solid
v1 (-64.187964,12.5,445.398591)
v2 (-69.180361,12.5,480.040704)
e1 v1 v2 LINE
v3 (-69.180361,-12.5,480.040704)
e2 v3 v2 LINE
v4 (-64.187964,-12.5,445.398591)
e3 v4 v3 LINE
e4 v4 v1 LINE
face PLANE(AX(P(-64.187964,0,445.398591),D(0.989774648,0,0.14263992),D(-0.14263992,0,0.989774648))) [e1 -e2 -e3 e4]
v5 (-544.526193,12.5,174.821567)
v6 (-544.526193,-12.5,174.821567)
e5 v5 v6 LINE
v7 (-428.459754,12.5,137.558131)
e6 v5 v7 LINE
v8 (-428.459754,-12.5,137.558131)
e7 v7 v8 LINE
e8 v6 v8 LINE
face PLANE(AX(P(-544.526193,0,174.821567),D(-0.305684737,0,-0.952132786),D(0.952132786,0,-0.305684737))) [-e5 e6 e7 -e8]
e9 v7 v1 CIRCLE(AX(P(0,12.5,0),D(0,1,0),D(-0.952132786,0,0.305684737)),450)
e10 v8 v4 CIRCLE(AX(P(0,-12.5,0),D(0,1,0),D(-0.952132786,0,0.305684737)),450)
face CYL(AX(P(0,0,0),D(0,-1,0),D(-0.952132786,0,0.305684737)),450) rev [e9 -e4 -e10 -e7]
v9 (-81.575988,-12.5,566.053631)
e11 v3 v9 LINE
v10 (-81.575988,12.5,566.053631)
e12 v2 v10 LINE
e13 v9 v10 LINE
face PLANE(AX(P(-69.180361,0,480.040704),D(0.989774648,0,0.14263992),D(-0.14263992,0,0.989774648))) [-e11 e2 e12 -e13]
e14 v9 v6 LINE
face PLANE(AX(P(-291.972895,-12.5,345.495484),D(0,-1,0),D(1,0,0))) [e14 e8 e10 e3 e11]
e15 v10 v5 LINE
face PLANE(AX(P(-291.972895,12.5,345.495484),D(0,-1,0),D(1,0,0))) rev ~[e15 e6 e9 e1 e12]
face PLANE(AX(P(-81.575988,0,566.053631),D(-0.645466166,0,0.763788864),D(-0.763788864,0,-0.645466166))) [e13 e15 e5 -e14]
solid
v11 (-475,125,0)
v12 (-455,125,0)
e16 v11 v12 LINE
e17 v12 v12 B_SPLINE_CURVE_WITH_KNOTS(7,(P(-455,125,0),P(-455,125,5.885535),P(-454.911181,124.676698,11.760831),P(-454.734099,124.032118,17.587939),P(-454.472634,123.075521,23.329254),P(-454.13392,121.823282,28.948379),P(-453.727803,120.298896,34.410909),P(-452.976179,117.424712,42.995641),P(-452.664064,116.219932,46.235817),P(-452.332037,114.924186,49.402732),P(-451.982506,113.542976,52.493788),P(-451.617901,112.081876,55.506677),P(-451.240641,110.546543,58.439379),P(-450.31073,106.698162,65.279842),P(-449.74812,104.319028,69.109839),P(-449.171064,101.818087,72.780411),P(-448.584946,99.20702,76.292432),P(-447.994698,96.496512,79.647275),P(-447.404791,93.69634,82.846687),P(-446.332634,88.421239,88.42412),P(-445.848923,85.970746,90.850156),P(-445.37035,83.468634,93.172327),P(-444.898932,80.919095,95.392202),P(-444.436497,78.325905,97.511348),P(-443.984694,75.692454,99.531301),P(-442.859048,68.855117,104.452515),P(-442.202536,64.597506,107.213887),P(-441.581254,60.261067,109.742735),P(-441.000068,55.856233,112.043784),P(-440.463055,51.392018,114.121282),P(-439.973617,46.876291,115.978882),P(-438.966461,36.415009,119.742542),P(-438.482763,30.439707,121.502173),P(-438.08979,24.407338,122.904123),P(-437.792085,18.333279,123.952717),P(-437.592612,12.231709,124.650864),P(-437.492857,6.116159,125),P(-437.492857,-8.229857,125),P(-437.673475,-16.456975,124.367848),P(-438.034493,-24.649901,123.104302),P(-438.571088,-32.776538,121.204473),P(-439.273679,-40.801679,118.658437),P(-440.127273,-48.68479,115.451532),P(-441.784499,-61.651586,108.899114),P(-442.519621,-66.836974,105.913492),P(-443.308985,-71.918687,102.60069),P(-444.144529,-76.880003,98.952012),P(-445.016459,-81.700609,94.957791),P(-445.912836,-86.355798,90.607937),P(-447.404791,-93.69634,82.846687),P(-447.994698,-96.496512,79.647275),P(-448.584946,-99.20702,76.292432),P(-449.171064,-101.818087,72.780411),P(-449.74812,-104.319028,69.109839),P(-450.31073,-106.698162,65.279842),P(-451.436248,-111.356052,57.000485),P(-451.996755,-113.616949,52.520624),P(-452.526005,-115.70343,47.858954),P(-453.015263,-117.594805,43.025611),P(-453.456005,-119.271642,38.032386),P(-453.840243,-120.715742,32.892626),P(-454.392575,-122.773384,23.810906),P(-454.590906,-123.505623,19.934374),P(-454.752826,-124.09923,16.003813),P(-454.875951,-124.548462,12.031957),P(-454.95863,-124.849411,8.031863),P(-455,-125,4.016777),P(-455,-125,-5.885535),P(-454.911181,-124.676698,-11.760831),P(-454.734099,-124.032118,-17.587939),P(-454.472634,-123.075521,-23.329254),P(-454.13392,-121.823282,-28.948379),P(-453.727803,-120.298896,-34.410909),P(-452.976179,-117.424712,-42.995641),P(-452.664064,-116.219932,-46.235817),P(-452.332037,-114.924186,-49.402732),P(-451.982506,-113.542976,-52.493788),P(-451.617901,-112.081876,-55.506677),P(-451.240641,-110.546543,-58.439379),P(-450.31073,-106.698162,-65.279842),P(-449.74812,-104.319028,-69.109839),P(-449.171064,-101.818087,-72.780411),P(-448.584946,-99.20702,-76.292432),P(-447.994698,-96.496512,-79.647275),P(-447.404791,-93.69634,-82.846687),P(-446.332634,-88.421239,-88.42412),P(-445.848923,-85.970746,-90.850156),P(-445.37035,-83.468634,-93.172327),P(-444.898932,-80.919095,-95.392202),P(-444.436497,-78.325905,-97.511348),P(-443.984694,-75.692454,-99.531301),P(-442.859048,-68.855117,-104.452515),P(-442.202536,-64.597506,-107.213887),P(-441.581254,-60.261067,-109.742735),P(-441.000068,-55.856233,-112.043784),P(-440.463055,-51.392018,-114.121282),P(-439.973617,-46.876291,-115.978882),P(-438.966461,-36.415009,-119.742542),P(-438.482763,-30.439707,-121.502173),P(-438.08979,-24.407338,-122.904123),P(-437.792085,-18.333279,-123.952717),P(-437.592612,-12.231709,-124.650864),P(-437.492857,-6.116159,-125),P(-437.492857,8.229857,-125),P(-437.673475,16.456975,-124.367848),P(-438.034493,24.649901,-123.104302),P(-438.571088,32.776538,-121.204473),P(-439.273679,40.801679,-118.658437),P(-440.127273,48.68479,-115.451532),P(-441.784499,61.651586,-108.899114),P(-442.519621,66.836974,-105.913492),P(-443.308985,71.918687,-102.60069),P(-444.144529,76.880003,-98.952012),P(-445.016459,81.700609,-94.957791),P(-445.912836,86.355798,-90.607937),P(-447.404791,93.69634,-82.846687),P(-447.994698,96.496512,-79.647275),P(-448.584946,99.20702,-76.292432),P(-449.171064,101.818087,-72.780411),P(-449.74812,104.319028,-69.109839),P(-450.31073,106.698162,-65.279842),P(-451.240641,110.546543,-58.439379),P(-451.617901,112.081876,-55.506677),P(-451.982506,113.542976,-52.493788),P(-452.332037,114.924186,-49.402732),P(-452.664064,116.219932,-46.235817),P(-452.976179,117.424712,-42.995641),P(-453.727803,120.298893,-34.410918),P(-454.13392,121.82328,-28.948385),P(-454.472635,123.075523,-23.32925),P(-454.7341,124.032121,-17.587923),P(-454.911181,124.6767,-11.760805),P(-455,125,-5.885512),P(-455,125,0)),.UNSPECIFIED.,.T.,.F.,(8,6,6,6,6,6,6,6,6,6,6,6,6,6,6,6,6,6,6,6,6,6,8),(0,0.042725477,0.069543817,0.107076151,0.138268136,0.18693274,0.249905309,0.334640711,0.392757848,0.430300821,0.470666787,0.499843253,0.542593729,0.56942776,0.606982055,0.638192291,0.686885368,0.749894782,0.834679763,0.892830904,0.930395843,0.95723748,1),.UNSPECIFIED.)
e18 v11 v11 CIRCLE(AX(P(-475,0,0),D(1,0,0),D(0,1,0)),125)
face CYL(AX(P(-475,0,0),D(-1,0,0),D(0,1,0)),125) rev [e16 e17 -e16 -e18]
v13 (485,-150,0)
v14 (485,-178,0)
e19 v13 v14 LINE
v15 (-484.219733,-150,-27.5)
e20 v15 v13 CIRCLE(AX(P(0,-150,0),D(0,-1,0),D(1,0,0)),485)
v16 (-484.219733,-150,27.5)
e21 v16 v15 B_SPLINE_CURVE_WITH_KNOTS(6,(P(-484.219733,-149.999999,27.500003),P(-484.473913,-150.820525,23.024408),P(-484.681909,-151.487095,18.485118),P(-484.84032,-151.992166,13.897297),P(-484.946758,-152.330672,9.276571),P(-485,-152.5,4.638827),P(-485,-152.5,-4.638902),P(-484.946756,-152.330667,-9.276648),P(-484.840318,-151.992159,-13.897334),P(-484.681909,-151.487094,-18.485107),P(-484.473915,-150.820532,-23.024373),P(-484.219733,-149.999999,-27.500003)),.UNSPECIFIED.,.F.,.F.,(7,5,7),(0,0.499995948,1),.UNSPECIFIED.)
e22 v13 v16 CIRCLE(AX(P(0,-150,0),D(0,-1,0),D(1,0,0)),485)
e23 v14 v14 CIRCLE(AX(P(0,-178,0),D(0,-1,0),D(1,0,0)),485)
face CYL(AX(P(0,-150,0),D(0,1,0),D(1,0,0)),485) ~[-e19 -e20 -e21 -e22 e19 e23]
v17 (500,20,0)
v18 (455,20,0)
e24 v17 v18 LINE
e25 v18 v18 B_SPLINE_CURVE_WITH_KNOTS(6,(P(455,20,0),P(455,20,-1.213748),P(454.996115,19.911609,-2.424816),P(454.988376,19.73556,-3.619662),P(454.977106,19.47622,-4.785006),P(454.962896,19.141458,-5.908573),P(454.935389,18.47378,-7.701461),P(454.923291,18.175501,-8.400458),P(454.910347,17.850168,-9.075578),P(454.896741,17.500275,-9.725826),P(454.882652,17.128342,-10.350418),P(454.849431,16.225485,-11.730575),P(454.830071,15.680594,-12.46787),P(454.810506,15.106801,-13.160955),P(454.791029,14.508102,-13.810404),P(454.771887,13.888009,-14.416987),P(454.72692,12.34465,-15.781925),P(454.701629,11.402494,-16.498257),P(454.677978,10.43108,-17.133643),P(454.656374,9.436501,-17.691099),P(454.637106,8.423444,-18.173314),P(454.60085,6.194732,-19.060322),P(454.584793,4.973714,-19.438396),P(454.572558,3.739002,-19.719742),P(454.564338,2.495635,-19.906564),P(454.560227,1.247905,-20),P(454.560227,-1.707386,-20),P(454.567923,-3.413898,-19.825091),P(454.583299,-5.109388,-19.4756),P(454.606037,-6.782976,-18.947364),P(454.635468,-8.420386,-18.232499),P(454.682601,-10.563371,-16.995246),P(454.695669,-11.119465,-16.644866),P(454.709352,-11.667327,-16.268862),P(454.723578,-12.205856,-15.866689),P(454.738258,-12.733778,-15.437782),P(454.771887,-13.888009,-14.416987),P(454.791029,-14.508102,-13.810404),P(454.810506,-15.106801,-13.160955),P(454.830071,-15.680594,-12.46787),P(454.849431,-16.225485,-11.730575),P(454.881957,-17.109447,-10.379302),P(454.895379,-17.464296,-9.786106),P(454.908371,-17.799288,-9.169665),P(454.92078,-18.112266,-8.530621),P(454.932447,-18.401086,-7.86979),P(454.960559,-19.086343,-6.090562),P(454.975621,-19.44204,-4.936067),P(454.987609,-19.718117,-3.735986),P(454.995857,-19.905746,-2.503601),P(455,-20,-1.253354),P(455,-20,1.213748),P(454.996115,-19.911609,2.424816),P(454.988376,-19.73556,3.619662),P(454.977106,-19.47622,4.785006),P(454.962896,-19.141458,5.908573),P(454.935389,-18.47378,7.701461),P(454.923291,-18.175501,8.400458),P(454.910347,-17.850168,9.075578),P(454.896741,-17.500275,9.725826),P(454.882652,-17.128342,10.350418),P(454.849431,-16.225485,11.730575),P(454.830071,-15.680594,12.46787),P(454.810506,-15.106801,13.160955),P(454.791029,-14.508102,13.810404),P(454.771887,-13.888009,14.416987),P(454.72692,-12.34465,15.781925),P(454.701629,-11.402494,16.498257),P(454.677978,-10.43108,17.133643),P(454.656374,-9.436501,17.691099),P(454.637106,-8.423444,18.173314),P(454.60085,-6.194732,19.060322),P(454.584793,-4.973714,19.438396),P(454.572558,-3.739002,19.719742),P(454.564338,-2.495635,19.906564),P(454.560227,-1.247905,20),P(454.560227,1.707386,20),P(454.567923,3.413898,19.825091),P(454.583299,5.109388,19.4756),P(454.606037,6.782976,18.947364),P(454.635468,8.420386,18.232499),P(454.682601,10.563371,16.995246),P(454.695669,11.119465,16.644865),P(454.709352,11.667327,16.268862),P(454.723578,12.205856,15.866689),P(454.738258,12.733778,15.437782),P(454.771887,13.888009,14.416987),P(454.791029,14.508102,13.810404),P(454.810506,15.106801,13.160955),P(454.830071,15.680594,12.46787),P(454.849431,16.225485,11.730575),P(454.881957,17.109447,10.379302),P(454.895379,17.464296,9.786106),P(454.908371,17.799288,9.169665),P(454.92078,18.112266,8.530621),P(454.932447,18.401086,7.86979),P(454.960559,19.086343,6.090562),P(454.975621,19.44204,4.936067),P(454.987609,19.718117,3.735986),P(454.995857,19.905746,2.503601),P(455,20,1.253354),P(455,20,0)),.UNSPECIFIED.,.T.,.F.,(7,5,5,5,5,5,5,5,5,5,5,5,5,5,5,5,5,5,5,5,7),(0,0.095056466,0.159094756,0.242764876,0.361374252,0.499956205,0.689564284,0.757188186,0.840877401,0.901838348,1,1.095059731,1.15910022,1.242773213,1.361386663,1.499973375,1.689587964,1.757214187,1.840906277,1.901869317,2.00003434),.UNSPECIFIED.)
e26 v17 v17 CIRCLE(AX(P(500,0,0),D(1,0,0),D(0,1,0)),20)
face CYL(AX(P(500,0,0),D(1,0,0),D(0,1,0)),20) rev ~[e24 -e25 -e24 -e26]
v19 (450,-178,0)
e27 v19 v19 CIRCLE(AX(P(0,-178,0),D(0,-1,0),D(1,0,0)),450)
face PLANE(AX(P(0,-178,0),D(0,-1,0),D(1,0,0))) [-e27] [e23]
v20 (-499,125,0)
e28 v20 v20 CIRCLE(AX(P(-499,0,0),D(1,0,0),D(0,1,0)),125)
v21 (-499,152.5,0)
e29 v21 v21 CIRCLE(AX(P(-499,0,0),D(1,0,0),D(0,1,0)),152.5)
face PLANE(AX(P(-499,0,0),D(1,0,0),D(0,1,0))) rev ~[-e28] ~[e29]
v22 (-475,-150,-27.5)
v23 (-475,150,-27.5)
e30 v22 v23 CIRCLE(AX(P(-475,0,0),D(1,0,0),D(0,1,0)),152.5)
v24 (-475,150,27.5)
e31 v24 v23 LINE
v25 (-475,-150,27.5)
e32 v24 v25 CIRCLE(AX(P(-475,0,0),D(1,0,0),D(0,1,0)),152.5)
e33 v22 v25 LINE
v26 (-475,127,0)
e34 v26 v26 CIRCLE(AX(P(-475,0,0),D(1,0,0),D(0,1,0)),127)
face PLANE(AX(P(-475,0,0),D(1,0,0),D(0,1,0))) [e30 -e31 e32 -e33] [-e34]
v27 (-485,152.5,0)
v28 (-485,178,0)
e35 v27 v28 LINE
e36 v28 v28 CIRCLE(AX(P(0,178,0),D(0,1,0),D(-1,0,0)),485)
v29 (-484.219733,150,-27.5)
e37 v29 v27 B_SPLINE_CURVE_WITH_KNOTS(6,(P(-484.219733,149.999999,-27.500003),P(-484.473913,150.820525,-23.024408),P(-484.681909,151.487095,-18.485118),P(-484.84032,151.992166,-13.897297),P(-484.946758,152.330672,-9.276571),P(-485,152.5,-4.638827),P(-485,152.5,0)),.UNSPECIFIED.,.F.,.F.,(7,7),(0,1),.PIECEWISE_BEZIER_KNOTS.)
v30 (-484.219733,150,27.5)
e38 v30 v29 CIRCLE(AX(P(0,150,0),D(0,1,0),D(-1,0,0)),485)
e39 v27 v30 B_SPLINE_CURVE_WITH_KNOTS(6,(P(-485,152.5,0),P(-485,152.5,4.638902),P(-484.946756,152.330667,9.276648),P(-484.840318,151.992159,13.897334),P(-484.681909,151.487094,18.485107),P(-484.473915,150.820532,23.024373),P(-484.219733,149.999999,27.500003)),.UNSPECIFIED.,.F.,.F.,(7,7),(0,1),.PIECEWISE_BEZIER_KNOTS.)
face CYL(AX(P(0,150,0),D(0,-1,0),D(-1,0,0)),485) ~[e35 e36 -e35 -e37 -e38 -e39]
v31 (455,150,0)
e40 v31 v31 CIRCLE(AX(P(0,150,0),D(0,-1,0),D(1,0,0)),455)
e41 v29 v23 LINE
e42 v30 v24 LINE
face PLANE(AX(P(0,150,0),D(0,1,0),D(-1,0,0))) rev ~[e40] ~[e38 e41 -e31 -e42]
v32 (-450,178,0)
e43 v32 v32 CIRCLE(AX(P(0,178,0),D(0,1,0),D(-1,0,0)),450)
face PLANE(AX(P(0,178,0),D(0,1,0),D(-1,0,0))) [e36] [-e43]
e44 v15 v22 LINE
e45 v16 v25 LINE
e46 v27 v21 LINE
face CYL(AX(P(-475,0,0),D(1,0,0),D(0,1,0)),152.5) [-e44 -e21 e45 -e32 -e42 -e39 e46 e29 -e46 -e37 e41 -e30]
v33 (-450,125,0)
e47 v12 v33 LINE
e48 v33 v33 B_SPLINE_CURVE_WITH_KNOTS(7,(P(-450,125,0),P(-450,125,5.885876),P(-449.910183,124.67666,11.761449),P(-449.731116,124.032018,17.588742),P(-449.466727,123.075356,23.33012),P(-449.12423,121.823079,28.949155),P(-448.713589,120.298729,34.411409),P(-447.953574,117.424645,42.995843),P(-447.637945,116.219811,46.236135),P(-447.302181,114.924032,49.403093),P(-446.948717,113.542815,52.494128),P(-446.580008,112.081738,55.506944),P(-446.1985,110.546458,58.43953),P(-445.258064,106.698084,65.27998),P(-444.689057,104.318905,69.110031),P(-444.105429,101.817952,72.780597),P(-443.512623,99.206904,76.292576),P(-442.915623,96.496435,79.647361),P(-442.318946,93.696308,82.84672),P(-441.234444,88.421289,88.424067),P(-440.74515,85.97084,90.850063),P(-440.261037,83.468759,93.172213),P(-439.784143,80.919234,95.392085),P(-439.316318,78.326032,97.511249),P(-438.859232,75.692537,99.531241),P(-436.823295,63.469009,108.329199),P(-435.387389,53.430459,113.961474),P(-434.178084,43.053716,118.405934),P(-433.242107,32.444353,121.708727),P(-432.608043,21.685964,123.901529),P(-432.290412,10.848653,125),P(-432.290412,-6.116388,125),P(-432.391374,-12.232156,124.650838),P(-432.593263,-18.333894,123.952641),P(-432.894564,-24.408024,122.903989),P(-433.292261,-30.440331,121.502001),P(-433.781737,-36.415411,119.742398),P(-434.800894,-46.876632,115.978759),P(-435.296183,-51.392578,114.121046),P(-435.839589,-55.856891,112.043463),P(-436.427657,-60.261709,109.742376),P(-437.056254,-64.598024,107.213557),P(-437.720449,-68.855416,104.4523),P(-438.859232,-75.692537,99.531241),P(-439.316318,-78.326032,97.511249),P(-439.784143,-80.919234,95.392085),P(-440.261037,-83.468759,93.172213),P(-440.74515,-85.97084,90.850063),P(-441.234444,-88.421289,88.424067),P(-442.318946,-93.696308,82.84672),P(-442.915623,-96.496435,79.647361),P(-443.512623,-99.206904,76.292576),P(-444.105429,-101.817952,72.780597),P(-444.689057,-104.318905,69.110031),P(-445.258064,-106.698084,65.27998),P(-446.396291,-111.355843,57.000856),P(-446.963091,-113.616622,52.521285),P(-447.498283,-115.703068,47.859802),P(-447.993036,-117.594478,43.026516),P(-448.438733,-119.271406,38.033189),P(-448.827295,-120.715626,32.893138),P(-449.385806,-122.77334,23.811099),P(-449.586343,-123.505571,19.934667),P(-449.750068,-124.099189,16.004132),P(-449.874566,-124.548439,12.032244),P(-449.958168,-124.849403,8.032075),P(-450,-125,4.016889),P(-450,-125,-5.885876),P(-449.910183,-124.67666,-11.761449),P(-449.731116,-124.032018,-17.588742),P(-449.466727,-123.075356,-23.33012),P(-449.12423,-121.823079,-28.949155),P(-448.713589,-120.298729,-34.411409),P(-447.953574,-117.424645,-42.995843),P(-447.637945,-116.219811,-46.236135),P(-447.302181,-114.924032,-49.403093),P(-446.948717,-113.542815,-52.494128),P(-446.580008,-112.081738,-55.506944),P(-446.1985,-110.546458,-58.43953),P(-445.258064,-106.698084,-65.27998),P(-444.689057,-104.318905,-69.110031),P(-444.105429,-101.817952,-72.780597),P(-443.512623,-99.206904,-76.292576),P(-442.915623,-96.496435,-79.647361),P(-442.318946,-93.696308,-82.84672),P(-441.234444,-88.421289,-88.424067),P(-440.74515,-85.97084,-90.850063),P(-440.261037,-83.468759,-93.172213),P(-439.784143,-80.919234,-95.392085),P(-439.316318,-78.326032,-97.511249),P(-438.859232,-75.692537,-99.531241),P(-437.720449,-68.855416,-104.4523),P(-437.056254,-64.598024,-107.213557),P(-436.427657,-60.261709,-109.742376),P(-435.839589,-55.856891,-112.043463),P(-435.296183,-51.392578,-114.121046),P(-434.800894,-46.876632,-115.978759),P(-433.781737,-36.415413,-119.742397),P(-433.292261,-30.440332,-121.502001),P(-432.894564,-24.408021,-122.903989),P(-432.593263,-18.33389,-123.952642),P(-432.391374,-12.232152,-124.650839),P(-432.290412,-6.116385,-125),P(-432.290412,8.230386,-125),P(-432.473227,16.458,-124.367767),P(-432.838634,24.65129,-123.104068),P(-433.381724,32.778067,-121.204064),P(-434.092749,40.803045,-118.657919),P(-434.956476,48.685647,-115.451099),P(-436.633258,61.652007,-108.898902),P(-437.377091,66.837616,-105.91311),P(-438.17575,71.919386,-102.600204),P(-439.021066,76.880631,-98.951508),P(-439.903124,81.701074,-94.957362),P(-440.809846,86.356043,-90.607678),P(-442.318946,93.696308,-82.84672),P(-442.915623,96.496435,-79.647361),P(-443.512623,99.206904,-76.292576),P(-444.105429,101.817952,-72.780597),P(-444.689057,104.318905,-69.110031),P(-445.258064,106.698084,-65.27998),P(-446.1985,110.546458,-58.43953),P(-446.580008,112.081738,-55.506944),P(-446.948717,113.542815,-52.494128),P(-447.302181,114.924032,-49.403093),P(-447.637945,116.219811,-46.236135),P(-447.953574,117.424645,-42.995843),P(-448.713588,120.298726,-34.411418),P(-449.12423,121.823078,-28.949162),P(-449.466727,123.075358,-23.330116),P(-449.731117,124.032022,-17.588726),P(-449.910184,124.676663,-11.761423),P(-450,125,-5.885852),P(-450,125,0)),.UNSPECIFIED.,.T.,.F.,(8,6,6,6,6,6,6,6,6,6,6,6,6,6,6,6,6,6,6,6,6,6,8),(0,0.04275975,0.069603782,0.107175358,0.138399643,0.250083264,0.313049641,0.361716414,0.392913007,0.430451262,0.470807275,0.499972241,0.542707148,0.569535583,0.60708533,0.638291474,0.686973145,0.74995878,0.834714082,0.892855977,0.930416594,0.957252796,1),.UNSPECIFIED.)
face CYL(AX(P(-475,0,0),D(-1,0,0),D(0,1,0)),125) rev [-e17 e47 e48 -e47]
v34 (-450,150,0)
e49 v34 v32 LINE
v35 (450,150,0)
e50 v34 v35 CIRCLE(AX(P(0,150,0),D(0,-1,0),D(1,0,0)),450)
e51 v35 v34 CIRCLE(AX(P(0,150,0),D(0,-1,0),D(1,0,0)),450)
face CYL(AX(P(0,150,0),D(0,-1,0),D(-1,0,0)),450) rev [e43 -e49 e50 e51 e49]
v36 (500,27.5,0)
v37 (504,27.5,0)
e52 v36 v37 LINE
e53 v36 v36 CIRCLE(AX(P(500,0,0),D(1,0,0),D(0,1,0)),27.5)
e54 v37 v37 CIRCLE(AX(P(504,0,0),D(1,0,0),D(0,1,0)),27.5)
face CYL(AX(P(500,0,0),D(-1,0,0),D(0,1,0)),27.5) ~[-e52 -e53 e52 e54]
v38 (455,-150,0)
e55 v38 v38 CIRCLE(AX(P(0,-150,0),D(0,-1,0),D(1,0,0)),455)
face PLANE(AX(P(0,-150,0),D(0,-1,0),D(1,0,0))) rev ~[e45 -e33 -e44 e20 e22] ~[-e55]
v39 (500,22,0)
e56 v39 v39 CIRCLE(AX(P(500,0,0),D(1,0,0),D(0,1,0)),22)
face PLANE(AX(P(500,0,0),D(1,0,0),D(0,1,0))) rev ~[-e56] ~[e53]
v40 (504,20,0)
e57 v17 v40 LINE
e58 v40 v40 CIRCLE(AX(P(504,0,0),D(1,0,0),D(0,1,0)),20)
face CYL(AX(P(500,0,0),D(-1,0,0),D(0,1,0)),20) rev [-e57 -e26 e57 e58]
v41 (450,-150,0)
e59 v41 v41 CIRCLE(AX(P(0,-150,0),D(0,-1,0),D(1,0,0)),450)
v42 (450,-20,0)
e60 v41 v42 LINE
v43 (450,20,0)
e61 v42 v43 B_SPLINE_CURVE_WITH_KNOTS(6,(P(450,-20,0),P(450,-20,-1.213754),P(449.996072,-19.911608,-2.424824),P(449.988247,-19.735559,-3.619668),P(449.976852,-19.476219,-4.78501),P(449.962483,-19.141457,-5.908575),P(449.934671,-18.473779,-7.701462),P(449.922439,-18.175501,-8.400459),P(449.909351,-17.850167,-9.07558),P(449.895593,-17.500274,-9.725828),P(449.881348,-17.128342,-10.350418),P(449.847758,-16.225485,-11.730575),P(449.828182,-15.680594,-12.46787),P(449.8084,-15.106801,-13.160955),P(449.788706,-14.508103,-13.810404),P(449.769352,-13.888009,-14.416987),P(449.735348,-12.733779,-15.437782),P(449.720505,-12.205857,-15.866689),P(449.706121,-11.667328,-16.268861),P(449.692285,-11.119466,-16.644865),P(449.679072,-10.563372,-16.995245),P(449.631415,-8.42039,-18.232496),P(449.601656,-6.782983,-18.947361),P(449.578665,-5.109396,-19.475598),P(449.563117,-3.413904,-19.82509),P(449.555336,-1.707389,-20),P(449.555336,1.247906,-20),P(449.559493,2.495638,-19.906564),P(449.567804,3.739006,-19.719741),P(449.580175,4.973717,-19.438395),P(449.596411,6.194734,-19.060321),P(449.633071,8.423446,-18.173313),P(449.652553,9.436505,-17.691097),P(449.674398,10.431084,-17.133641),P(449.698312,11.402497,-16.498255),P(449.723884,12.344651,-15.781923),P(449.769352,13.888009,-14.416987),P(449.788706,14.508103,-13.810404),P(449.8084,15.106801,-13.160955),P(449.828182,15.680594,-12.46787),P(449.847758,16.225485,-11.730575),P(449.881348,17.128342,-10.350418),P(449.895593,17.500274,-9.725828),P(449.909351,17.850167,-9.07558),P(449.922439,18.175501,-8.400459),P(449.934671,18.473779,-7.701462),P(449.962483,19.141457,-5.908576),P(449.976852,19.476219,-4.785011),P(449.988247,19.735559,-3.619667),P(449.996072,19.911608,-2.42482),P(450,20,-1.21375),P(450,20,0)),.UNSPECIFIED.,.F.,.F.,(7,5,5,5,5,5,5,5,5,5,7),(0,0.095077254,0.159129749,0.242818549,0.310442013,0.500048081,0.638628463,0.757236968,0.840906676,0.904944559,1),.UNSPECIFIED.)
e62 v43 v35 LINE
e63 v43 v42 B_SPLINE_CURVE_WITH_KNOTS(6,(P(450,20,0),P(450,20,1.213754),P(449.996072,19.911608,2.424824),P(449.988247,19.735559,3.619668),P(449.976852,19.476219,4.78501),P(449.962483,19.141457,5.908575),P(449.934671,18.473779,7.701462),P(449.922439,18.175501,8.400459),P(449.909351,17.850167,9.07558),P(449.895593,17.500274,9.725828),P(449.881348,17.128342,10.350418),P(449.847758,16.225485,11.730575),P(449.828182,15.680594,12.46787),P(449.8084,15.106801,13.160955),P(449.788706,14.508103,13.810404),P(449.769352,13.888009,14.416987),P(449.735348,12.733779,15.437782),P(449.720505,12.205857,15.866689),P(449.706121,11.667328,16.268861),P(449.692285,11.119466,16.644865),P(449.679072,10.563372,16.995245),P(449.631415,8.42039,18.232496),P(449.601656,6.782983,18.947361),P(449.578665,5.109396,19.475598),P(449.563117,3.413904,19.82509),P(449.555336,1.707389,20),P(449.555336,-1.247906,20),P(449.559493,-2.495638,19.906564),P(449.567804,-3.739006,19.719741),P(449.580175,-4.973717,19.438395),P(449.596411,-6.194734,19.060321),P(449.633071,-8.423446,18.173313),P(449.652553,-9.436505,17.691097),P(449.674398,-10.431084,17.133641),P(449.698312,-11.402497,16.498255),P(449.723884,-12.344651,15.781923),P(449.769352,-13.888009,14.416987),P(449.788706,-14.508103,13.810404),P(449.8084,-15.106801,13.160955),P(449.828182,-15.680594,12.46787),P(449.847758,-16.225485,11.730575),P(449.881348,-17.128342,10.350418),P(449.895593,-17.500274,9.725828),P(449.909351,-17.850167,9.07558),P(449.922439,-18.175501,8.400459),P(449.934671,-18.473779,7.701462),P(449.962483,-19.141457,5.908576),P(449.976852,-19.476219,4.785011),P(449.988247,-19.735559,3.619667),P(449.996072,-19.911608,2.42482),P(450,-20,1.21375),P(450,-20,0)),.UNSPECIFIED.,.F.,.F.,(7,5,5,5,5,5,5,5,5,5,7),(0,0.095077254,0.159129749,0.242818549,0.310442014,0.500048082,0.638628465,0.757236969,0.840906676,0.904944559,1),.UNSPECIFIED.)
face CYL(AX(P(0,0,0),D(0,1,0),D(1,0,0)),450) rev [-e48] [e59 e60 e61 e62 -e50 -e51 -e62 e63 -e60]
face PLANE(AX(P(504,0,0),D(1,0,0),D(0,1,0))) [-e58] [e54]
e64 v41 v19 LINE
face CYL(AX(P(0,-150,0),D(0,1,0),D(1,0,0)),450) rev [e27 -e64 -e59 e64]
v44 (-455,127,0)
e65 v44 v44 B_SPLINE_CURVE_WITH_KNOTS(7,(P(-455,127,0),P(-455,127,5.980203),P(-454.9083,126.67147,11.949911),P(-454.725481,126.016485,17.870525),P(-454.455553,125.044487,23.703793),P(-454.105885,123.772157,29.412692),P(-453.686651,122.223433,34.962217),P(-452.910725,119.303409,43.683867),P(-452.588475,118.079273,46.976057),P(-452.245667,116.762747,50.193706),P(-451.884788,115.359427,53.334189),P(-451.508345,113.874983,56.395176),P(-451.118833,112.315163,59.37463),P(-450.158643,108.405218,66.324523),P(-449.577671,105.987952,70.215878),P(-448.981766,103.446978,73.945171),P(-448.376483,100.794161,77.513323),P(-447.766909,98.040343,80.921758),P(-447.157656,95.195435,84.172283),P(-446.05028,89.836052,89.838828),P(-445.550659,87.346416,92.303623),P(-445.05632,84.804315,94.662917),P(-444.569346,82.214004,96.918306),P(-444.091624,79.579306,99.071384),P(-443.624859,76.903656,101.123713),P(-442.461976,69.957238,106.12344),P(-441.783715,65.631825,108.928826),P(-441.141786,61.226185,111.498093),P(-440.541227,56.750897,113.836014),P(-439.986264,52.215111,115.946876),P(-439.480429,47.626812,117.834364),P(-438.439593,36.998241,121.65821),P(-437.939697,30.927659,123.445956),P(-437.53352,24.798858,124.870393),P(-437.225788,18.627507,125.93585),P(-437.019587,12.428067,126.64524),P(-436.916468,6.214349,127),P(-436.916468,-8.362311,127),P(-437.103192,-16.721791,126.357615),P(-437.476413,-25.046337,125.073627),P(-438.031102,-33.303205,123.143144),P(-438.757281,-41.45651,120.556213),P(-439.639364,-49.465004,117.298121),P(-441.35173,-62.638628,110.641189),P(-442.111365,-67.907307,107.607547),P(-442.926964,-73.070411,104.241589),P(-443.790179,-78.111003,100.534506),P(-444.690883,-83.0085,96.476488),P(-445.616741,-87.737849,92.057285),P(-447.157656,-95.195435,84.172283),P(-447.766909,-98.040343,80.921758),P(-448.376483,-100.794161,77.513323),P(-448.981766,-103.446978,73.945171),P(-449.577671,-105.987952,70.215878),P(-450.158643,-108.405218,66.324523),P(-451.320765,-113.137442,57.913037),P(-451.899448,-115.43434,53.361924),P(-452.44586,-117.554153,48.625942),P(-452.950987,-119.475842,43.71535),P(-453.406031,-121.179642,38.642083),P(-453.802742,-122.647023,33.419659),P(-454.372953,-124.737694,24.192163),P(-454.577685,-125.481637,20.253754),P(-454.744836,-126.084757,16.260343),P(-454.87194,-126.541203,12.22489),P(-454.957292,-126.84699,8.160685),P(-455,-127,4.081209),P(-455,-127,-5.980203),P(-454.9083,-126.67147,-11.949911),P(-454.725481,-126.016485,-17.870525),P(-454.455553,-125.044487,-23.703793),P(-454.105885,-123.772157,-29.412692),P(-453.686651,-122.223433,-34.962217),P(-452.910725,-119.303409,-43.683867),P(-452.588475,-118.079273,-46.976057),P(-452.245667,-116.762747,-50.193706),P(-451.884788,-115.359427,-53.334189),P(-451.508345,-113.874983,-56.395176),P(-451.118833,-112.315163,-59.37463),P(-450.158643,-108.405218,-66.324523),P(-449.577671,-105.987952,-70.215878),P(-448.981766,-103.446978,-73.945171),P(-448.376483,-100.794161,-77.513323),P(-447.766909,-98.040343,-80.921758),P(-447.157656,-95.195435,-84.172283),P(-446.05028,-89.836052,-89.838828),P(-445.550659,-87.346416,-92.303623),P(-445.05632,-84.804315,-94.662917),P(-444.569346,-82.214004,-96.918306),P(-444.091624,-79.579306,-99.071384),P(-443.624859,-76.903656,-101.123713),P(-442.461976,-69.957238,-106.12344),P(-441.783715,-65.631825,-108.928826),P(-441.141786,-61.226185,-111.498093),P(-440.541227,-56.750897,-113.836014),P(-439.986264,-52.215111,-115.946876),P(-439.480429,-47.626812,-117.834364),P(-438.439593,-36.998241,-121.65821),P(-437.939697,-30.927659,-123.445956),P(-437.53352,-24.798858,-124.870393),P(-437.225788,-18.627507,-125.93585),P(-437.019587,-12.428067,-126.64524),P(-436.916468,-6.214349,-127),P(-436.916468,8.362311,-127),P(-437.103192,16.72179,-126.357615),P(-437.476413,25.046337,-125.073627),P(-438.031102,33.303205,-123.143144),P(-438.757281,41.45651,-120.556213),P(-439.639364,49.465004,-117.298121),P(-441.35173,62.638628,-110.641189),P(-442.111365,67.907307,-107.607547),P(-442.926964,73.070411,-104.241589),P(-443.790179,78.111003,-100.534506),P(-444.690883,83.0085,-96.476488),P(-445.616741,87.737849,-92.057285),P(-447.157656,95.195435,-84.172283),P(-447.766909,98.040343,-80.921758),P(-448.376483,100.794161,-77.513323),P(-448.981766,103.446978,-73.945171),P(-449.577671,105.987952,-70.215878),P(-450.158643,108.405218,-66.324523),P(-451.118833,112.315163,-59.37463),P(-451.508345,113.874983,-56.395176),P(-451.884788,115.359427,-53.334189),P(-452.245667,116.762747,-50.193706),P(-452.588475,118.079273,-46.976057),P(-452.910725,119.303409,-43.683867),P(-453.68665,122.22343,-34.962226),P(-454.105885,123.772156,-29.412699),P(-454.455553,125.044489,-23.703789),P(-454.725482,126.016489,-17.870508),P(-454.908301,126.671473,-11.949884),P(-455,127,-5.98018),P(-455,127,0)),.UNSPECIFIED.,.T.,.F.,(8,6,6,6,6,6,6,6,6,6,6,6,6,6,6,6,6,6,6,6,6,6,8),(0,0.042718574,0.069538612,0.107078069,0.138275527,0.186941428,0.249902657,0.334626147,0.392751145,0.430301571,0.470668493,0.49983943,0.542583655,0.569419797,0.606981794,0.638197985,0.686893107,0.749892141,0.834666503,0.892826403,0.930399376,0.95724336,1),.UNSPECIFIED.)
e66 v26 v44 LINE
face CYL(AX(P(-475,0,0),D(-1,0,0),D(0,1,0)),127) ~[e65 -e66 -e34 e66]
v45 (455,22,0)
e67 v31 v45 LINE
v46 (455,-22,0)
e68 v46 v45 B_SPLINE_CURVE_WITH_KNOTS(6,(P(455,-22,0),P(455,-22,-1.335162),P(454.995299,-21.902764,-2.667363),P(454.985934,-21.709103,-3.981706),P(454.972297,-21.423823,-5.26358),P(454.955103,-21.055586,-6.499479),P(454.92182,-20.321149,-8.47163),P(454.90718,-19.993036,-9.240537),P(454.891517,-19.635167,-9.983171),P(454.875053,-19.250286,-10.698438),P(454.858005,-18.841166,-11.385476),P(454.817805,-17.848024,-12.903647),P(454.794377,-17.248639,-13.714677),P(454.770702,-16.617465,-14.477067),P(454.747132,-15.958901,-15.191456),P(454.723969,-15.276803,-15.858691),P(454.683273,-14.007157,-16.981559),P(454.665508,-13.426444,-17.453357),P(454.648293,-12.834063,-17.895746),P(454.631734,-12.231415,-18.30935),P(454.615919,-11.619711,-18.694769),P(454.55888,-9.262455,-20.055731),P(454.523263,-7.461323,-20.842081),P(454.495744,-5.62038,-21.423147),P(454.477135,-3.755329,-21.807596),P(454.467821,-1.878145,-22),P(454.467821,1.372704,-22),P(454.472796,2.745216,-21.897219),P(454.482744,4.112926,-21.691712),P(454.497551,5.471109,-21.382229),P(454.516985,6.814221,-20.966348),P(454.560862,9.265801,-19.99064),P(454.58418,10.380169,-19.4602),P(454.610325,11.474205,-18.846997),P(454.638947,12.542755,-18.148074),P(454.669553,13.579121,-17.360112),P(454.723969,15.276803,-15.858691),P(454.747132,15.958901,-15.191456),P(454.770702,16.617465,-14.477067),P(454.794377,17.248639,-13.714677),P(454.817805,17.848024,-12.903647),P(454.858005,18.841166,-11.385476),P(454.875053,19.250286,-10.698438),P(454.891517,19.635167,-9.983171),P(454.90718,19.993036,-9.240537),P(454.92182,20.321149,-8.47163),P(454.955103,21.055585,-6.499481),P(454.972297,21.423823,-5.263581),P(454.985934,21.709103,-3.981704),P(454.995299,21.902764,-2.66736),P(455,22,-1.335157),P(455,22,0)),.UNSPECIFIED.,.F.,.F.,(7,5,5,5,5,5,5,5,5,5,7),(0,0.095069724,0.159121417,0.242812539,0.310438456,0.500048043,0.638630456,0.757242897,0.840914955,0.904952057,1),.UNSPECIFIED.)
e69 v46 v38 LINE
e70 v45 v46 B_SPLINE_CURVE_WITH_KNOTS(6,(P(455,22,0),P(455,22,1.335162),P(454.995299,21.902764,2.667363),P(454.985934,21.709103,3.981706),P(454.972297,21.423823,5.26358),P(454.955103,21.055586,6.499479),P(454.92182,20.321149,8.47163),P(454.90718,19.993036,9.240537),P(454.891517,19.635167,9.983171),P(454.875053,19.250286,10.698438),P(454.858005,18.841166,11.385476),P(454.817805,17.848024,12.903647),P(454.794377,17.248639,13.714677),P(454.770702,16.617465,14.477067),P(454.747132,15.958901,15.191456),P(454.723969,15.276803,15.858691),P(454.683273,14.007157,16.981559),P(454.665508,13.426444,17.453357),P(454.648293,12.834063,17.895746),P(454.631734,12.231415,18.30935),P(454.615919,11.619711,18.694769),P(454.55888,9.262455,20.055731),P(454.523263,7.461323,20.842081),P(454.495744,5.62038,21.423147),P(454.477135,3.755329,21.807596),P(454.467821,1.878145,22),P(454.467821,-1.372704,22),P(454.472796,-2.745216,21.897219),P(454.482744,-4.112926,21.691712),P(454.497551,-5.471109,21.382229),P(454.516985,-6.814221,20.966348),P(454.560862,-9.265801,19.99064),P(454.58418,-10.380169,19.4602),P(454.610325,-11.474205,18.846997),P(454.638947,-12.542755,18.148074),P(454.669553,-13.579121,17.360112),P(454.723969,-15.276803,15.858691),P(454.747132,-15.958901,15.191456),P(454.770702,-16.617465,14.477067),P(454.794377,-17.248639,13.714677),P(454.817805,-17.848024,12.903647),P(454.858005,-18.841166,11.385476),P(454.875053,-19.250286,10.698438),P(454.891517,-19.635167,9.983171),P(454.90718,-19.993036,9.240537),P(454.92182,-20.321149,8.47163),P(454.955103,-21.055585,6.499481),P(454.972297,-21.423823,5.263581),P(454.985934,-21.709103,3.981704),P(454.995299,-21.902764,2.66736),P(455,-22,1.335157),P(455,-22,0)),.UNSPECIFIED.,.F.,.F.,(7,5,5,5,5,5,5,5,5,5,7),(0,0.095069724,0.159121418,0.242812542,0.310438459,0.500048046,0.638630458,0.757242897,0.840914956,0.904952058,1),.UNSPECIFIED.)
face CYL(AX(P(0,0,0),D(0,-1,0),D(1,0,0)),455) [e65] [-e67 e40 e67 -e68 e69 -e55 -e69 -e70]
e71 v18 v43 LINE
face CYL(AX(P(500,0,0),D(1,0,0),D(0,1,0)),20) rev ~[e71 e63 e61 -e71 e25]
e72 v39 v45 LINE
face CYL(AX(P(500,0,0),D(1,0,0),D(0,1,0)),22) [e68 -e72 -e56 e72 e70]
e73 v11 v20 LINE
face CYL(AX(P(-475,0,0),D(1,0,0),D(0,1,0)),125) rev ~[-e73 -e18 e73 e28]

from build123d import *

# Parameters (mm, degrees)
F0_R      = 455
F0_R_2    = 450
F1_DEPTH  = 150
F2_R      = 485
F2_R_2    = 455
F2_R_3    = 450
F3_DEPTH  = 28
F4_R      = 485
F4_R_2    = 455
F4_R_3    = 450
F5_DEPTH  = 28
F7_R      = 22
F7_R_2    = 20
F8_DEPTH  = 45.532179457
F9_REACH  = 1041.5695424949
F11_R     = 127
F11_R_2   = 125
F13_REACH = 1328.5543906933
F11_R_3   = 152.5
F14_DEPTH = 24
F7_R_3    = 27.5
F15_DEPTH = 4
F17_DEPTH = 12.5


with BuildPart() as f1:
    # F0 (on Front) → F1 (new body, symmetric)
    with BuildSketch(Plane.XZ):
        Circle(F0_R)
        Circle(F0_R_2, mode=Mode.SUBTRACT)
    extrude(amount=F1_DEPTH, both=True)

    # F2 (on face) → F3 (join)
    with BuildSketch(Plane(origin=(0, 150, 0), x_dir=(-1, 0, 0), z_dir=(0, 1, 0))):
        Circle(F2_R)
        Circle(F2_R_2, mode=Mode.SUBTRACT)
        Circle(F2_R_2)
        Circle(F2_R_3, mode=Mode.SUBTRACT)
    extrude(amount=F3_DEPTH)

    # F4 (on face) → F5 (join)
    with BuildSketch(Plane.XZ.offset(150)):
        Circle(F4_R)
        Circle(F4_R_2, mode=Mode.SUBTRACT)
        Circle(F4_R_2)
        Circle(F4_R_3, mode=Mode.SUBTRACT)
    extrude(amount=F5_DEPTH)

    # F7 (on offset) → F8 (join, through all)
    with BuildSketch(Plane.YZ.offset(500)):
        Circle(F7_R)
        Circle(F7_R_2, mode=Mode.SUBTRACT)
    extrude(amount=-F8_DEPTH)

    f9_end = f1.faces().sort_by_distance((-450, 0, 0))[0]
    # F7 (on offset) → F9 (cut, up to a face of the model that its end follows)
    with BuildSketch(Plane.YZ.offset(500)):
        Circle(F7_R_2)
    f9_long = extrude(amount=-F9_REACH, mode=Mode.PRIVATE)
    add(split(f9_long, bisect_by=f9_end, keep=Keep.ALL, mode=Mode.PRIVATE).solids().sort_by_distance((500, 0, 0))[0], mode=Mode.SUBTRACT)

    # F11 (on offset) → F12 (join, up to the next surface of F1)
    with BuildSketch(Plane.YZ.offset(-475)):
        Circle(F11_R)
        Circle(F11_R_2, mode=Mode.SUBTRACT)
    extrude(until=Until.NEXT)

    f13_end = f1.faces().sort_by_distance((-450, 0, 0))[0]
    # F11 (on offset) → F13 (cut, up to a face of the model that its end follows)
    with BuildSketch(Plane.YZ.offset(-475)):
        Circle(F11_R_2)
    f13_long = extrude(amount=F13_REACH, mode=Mode.PRIVATE)
    add(split(f13_long, bisect_by=f13_end, keep=Keep.BOTTOM, mode=Mode.PRIVATE), mode=Mode.SUBTRACT)

    # F11 (on offset) → F14 (join)
    with BuildSketch(Plane.YZ.offset(-475)):
        Circle(F11_R_3)
        Circle(F11_R, mode=Mode.SUBTRACT)
        Circle(F11_R)
        Circle(F11_R_2, mode=Mode.SUBTRACT)
    extrude(amount=-F14_DEPTH)

    # F7 (on offset) → F15 (join)
    with BuildSketch(Plane.YZ.offset(500)):
        Circle(F7_R_3)
        Circle(F7_R, mode=Mode.SUBTRACT)
        Circle(F7_R)
        Circle(F7_R_2, mode=Mode.SUBTRACT)
    extrude(amount=F15_DEPTH)


with BuildPart() as f17:
    # F16 (on Front) → F17 (new body, symmetric)
    with BuildSketch(Plane.XZ):
        with BuildLine():
            Line((-81.575987868, 566.0536310474), (-313.0510903458, 370.4375991086))
            Line((-313.0510903458, 370.4375991086), (-544.5261928236, 174.8215671697))
            Line((-544.5261928236, 174.8215671697), (-475, 152.5))
            Line((-475, 152.5), (-428.459753627, 137.5581314276))
            ThreePointArc((-428.459753627, 137.5581314276), (-290.4597745476, 343.7049888636), (-64.1879640033, 445.3985914629))
            Line((-64.1879640033, 445.3985914629), (-69.1803612035, 480.0407041322))
            Line((-69.1803612035, 480.0407041322), (-81.575987868, 566.0536310474))
        make_face()
    extrude(amount=F17_DEPTH, both=True)


solid = Compound([f1.part, f17.part])
